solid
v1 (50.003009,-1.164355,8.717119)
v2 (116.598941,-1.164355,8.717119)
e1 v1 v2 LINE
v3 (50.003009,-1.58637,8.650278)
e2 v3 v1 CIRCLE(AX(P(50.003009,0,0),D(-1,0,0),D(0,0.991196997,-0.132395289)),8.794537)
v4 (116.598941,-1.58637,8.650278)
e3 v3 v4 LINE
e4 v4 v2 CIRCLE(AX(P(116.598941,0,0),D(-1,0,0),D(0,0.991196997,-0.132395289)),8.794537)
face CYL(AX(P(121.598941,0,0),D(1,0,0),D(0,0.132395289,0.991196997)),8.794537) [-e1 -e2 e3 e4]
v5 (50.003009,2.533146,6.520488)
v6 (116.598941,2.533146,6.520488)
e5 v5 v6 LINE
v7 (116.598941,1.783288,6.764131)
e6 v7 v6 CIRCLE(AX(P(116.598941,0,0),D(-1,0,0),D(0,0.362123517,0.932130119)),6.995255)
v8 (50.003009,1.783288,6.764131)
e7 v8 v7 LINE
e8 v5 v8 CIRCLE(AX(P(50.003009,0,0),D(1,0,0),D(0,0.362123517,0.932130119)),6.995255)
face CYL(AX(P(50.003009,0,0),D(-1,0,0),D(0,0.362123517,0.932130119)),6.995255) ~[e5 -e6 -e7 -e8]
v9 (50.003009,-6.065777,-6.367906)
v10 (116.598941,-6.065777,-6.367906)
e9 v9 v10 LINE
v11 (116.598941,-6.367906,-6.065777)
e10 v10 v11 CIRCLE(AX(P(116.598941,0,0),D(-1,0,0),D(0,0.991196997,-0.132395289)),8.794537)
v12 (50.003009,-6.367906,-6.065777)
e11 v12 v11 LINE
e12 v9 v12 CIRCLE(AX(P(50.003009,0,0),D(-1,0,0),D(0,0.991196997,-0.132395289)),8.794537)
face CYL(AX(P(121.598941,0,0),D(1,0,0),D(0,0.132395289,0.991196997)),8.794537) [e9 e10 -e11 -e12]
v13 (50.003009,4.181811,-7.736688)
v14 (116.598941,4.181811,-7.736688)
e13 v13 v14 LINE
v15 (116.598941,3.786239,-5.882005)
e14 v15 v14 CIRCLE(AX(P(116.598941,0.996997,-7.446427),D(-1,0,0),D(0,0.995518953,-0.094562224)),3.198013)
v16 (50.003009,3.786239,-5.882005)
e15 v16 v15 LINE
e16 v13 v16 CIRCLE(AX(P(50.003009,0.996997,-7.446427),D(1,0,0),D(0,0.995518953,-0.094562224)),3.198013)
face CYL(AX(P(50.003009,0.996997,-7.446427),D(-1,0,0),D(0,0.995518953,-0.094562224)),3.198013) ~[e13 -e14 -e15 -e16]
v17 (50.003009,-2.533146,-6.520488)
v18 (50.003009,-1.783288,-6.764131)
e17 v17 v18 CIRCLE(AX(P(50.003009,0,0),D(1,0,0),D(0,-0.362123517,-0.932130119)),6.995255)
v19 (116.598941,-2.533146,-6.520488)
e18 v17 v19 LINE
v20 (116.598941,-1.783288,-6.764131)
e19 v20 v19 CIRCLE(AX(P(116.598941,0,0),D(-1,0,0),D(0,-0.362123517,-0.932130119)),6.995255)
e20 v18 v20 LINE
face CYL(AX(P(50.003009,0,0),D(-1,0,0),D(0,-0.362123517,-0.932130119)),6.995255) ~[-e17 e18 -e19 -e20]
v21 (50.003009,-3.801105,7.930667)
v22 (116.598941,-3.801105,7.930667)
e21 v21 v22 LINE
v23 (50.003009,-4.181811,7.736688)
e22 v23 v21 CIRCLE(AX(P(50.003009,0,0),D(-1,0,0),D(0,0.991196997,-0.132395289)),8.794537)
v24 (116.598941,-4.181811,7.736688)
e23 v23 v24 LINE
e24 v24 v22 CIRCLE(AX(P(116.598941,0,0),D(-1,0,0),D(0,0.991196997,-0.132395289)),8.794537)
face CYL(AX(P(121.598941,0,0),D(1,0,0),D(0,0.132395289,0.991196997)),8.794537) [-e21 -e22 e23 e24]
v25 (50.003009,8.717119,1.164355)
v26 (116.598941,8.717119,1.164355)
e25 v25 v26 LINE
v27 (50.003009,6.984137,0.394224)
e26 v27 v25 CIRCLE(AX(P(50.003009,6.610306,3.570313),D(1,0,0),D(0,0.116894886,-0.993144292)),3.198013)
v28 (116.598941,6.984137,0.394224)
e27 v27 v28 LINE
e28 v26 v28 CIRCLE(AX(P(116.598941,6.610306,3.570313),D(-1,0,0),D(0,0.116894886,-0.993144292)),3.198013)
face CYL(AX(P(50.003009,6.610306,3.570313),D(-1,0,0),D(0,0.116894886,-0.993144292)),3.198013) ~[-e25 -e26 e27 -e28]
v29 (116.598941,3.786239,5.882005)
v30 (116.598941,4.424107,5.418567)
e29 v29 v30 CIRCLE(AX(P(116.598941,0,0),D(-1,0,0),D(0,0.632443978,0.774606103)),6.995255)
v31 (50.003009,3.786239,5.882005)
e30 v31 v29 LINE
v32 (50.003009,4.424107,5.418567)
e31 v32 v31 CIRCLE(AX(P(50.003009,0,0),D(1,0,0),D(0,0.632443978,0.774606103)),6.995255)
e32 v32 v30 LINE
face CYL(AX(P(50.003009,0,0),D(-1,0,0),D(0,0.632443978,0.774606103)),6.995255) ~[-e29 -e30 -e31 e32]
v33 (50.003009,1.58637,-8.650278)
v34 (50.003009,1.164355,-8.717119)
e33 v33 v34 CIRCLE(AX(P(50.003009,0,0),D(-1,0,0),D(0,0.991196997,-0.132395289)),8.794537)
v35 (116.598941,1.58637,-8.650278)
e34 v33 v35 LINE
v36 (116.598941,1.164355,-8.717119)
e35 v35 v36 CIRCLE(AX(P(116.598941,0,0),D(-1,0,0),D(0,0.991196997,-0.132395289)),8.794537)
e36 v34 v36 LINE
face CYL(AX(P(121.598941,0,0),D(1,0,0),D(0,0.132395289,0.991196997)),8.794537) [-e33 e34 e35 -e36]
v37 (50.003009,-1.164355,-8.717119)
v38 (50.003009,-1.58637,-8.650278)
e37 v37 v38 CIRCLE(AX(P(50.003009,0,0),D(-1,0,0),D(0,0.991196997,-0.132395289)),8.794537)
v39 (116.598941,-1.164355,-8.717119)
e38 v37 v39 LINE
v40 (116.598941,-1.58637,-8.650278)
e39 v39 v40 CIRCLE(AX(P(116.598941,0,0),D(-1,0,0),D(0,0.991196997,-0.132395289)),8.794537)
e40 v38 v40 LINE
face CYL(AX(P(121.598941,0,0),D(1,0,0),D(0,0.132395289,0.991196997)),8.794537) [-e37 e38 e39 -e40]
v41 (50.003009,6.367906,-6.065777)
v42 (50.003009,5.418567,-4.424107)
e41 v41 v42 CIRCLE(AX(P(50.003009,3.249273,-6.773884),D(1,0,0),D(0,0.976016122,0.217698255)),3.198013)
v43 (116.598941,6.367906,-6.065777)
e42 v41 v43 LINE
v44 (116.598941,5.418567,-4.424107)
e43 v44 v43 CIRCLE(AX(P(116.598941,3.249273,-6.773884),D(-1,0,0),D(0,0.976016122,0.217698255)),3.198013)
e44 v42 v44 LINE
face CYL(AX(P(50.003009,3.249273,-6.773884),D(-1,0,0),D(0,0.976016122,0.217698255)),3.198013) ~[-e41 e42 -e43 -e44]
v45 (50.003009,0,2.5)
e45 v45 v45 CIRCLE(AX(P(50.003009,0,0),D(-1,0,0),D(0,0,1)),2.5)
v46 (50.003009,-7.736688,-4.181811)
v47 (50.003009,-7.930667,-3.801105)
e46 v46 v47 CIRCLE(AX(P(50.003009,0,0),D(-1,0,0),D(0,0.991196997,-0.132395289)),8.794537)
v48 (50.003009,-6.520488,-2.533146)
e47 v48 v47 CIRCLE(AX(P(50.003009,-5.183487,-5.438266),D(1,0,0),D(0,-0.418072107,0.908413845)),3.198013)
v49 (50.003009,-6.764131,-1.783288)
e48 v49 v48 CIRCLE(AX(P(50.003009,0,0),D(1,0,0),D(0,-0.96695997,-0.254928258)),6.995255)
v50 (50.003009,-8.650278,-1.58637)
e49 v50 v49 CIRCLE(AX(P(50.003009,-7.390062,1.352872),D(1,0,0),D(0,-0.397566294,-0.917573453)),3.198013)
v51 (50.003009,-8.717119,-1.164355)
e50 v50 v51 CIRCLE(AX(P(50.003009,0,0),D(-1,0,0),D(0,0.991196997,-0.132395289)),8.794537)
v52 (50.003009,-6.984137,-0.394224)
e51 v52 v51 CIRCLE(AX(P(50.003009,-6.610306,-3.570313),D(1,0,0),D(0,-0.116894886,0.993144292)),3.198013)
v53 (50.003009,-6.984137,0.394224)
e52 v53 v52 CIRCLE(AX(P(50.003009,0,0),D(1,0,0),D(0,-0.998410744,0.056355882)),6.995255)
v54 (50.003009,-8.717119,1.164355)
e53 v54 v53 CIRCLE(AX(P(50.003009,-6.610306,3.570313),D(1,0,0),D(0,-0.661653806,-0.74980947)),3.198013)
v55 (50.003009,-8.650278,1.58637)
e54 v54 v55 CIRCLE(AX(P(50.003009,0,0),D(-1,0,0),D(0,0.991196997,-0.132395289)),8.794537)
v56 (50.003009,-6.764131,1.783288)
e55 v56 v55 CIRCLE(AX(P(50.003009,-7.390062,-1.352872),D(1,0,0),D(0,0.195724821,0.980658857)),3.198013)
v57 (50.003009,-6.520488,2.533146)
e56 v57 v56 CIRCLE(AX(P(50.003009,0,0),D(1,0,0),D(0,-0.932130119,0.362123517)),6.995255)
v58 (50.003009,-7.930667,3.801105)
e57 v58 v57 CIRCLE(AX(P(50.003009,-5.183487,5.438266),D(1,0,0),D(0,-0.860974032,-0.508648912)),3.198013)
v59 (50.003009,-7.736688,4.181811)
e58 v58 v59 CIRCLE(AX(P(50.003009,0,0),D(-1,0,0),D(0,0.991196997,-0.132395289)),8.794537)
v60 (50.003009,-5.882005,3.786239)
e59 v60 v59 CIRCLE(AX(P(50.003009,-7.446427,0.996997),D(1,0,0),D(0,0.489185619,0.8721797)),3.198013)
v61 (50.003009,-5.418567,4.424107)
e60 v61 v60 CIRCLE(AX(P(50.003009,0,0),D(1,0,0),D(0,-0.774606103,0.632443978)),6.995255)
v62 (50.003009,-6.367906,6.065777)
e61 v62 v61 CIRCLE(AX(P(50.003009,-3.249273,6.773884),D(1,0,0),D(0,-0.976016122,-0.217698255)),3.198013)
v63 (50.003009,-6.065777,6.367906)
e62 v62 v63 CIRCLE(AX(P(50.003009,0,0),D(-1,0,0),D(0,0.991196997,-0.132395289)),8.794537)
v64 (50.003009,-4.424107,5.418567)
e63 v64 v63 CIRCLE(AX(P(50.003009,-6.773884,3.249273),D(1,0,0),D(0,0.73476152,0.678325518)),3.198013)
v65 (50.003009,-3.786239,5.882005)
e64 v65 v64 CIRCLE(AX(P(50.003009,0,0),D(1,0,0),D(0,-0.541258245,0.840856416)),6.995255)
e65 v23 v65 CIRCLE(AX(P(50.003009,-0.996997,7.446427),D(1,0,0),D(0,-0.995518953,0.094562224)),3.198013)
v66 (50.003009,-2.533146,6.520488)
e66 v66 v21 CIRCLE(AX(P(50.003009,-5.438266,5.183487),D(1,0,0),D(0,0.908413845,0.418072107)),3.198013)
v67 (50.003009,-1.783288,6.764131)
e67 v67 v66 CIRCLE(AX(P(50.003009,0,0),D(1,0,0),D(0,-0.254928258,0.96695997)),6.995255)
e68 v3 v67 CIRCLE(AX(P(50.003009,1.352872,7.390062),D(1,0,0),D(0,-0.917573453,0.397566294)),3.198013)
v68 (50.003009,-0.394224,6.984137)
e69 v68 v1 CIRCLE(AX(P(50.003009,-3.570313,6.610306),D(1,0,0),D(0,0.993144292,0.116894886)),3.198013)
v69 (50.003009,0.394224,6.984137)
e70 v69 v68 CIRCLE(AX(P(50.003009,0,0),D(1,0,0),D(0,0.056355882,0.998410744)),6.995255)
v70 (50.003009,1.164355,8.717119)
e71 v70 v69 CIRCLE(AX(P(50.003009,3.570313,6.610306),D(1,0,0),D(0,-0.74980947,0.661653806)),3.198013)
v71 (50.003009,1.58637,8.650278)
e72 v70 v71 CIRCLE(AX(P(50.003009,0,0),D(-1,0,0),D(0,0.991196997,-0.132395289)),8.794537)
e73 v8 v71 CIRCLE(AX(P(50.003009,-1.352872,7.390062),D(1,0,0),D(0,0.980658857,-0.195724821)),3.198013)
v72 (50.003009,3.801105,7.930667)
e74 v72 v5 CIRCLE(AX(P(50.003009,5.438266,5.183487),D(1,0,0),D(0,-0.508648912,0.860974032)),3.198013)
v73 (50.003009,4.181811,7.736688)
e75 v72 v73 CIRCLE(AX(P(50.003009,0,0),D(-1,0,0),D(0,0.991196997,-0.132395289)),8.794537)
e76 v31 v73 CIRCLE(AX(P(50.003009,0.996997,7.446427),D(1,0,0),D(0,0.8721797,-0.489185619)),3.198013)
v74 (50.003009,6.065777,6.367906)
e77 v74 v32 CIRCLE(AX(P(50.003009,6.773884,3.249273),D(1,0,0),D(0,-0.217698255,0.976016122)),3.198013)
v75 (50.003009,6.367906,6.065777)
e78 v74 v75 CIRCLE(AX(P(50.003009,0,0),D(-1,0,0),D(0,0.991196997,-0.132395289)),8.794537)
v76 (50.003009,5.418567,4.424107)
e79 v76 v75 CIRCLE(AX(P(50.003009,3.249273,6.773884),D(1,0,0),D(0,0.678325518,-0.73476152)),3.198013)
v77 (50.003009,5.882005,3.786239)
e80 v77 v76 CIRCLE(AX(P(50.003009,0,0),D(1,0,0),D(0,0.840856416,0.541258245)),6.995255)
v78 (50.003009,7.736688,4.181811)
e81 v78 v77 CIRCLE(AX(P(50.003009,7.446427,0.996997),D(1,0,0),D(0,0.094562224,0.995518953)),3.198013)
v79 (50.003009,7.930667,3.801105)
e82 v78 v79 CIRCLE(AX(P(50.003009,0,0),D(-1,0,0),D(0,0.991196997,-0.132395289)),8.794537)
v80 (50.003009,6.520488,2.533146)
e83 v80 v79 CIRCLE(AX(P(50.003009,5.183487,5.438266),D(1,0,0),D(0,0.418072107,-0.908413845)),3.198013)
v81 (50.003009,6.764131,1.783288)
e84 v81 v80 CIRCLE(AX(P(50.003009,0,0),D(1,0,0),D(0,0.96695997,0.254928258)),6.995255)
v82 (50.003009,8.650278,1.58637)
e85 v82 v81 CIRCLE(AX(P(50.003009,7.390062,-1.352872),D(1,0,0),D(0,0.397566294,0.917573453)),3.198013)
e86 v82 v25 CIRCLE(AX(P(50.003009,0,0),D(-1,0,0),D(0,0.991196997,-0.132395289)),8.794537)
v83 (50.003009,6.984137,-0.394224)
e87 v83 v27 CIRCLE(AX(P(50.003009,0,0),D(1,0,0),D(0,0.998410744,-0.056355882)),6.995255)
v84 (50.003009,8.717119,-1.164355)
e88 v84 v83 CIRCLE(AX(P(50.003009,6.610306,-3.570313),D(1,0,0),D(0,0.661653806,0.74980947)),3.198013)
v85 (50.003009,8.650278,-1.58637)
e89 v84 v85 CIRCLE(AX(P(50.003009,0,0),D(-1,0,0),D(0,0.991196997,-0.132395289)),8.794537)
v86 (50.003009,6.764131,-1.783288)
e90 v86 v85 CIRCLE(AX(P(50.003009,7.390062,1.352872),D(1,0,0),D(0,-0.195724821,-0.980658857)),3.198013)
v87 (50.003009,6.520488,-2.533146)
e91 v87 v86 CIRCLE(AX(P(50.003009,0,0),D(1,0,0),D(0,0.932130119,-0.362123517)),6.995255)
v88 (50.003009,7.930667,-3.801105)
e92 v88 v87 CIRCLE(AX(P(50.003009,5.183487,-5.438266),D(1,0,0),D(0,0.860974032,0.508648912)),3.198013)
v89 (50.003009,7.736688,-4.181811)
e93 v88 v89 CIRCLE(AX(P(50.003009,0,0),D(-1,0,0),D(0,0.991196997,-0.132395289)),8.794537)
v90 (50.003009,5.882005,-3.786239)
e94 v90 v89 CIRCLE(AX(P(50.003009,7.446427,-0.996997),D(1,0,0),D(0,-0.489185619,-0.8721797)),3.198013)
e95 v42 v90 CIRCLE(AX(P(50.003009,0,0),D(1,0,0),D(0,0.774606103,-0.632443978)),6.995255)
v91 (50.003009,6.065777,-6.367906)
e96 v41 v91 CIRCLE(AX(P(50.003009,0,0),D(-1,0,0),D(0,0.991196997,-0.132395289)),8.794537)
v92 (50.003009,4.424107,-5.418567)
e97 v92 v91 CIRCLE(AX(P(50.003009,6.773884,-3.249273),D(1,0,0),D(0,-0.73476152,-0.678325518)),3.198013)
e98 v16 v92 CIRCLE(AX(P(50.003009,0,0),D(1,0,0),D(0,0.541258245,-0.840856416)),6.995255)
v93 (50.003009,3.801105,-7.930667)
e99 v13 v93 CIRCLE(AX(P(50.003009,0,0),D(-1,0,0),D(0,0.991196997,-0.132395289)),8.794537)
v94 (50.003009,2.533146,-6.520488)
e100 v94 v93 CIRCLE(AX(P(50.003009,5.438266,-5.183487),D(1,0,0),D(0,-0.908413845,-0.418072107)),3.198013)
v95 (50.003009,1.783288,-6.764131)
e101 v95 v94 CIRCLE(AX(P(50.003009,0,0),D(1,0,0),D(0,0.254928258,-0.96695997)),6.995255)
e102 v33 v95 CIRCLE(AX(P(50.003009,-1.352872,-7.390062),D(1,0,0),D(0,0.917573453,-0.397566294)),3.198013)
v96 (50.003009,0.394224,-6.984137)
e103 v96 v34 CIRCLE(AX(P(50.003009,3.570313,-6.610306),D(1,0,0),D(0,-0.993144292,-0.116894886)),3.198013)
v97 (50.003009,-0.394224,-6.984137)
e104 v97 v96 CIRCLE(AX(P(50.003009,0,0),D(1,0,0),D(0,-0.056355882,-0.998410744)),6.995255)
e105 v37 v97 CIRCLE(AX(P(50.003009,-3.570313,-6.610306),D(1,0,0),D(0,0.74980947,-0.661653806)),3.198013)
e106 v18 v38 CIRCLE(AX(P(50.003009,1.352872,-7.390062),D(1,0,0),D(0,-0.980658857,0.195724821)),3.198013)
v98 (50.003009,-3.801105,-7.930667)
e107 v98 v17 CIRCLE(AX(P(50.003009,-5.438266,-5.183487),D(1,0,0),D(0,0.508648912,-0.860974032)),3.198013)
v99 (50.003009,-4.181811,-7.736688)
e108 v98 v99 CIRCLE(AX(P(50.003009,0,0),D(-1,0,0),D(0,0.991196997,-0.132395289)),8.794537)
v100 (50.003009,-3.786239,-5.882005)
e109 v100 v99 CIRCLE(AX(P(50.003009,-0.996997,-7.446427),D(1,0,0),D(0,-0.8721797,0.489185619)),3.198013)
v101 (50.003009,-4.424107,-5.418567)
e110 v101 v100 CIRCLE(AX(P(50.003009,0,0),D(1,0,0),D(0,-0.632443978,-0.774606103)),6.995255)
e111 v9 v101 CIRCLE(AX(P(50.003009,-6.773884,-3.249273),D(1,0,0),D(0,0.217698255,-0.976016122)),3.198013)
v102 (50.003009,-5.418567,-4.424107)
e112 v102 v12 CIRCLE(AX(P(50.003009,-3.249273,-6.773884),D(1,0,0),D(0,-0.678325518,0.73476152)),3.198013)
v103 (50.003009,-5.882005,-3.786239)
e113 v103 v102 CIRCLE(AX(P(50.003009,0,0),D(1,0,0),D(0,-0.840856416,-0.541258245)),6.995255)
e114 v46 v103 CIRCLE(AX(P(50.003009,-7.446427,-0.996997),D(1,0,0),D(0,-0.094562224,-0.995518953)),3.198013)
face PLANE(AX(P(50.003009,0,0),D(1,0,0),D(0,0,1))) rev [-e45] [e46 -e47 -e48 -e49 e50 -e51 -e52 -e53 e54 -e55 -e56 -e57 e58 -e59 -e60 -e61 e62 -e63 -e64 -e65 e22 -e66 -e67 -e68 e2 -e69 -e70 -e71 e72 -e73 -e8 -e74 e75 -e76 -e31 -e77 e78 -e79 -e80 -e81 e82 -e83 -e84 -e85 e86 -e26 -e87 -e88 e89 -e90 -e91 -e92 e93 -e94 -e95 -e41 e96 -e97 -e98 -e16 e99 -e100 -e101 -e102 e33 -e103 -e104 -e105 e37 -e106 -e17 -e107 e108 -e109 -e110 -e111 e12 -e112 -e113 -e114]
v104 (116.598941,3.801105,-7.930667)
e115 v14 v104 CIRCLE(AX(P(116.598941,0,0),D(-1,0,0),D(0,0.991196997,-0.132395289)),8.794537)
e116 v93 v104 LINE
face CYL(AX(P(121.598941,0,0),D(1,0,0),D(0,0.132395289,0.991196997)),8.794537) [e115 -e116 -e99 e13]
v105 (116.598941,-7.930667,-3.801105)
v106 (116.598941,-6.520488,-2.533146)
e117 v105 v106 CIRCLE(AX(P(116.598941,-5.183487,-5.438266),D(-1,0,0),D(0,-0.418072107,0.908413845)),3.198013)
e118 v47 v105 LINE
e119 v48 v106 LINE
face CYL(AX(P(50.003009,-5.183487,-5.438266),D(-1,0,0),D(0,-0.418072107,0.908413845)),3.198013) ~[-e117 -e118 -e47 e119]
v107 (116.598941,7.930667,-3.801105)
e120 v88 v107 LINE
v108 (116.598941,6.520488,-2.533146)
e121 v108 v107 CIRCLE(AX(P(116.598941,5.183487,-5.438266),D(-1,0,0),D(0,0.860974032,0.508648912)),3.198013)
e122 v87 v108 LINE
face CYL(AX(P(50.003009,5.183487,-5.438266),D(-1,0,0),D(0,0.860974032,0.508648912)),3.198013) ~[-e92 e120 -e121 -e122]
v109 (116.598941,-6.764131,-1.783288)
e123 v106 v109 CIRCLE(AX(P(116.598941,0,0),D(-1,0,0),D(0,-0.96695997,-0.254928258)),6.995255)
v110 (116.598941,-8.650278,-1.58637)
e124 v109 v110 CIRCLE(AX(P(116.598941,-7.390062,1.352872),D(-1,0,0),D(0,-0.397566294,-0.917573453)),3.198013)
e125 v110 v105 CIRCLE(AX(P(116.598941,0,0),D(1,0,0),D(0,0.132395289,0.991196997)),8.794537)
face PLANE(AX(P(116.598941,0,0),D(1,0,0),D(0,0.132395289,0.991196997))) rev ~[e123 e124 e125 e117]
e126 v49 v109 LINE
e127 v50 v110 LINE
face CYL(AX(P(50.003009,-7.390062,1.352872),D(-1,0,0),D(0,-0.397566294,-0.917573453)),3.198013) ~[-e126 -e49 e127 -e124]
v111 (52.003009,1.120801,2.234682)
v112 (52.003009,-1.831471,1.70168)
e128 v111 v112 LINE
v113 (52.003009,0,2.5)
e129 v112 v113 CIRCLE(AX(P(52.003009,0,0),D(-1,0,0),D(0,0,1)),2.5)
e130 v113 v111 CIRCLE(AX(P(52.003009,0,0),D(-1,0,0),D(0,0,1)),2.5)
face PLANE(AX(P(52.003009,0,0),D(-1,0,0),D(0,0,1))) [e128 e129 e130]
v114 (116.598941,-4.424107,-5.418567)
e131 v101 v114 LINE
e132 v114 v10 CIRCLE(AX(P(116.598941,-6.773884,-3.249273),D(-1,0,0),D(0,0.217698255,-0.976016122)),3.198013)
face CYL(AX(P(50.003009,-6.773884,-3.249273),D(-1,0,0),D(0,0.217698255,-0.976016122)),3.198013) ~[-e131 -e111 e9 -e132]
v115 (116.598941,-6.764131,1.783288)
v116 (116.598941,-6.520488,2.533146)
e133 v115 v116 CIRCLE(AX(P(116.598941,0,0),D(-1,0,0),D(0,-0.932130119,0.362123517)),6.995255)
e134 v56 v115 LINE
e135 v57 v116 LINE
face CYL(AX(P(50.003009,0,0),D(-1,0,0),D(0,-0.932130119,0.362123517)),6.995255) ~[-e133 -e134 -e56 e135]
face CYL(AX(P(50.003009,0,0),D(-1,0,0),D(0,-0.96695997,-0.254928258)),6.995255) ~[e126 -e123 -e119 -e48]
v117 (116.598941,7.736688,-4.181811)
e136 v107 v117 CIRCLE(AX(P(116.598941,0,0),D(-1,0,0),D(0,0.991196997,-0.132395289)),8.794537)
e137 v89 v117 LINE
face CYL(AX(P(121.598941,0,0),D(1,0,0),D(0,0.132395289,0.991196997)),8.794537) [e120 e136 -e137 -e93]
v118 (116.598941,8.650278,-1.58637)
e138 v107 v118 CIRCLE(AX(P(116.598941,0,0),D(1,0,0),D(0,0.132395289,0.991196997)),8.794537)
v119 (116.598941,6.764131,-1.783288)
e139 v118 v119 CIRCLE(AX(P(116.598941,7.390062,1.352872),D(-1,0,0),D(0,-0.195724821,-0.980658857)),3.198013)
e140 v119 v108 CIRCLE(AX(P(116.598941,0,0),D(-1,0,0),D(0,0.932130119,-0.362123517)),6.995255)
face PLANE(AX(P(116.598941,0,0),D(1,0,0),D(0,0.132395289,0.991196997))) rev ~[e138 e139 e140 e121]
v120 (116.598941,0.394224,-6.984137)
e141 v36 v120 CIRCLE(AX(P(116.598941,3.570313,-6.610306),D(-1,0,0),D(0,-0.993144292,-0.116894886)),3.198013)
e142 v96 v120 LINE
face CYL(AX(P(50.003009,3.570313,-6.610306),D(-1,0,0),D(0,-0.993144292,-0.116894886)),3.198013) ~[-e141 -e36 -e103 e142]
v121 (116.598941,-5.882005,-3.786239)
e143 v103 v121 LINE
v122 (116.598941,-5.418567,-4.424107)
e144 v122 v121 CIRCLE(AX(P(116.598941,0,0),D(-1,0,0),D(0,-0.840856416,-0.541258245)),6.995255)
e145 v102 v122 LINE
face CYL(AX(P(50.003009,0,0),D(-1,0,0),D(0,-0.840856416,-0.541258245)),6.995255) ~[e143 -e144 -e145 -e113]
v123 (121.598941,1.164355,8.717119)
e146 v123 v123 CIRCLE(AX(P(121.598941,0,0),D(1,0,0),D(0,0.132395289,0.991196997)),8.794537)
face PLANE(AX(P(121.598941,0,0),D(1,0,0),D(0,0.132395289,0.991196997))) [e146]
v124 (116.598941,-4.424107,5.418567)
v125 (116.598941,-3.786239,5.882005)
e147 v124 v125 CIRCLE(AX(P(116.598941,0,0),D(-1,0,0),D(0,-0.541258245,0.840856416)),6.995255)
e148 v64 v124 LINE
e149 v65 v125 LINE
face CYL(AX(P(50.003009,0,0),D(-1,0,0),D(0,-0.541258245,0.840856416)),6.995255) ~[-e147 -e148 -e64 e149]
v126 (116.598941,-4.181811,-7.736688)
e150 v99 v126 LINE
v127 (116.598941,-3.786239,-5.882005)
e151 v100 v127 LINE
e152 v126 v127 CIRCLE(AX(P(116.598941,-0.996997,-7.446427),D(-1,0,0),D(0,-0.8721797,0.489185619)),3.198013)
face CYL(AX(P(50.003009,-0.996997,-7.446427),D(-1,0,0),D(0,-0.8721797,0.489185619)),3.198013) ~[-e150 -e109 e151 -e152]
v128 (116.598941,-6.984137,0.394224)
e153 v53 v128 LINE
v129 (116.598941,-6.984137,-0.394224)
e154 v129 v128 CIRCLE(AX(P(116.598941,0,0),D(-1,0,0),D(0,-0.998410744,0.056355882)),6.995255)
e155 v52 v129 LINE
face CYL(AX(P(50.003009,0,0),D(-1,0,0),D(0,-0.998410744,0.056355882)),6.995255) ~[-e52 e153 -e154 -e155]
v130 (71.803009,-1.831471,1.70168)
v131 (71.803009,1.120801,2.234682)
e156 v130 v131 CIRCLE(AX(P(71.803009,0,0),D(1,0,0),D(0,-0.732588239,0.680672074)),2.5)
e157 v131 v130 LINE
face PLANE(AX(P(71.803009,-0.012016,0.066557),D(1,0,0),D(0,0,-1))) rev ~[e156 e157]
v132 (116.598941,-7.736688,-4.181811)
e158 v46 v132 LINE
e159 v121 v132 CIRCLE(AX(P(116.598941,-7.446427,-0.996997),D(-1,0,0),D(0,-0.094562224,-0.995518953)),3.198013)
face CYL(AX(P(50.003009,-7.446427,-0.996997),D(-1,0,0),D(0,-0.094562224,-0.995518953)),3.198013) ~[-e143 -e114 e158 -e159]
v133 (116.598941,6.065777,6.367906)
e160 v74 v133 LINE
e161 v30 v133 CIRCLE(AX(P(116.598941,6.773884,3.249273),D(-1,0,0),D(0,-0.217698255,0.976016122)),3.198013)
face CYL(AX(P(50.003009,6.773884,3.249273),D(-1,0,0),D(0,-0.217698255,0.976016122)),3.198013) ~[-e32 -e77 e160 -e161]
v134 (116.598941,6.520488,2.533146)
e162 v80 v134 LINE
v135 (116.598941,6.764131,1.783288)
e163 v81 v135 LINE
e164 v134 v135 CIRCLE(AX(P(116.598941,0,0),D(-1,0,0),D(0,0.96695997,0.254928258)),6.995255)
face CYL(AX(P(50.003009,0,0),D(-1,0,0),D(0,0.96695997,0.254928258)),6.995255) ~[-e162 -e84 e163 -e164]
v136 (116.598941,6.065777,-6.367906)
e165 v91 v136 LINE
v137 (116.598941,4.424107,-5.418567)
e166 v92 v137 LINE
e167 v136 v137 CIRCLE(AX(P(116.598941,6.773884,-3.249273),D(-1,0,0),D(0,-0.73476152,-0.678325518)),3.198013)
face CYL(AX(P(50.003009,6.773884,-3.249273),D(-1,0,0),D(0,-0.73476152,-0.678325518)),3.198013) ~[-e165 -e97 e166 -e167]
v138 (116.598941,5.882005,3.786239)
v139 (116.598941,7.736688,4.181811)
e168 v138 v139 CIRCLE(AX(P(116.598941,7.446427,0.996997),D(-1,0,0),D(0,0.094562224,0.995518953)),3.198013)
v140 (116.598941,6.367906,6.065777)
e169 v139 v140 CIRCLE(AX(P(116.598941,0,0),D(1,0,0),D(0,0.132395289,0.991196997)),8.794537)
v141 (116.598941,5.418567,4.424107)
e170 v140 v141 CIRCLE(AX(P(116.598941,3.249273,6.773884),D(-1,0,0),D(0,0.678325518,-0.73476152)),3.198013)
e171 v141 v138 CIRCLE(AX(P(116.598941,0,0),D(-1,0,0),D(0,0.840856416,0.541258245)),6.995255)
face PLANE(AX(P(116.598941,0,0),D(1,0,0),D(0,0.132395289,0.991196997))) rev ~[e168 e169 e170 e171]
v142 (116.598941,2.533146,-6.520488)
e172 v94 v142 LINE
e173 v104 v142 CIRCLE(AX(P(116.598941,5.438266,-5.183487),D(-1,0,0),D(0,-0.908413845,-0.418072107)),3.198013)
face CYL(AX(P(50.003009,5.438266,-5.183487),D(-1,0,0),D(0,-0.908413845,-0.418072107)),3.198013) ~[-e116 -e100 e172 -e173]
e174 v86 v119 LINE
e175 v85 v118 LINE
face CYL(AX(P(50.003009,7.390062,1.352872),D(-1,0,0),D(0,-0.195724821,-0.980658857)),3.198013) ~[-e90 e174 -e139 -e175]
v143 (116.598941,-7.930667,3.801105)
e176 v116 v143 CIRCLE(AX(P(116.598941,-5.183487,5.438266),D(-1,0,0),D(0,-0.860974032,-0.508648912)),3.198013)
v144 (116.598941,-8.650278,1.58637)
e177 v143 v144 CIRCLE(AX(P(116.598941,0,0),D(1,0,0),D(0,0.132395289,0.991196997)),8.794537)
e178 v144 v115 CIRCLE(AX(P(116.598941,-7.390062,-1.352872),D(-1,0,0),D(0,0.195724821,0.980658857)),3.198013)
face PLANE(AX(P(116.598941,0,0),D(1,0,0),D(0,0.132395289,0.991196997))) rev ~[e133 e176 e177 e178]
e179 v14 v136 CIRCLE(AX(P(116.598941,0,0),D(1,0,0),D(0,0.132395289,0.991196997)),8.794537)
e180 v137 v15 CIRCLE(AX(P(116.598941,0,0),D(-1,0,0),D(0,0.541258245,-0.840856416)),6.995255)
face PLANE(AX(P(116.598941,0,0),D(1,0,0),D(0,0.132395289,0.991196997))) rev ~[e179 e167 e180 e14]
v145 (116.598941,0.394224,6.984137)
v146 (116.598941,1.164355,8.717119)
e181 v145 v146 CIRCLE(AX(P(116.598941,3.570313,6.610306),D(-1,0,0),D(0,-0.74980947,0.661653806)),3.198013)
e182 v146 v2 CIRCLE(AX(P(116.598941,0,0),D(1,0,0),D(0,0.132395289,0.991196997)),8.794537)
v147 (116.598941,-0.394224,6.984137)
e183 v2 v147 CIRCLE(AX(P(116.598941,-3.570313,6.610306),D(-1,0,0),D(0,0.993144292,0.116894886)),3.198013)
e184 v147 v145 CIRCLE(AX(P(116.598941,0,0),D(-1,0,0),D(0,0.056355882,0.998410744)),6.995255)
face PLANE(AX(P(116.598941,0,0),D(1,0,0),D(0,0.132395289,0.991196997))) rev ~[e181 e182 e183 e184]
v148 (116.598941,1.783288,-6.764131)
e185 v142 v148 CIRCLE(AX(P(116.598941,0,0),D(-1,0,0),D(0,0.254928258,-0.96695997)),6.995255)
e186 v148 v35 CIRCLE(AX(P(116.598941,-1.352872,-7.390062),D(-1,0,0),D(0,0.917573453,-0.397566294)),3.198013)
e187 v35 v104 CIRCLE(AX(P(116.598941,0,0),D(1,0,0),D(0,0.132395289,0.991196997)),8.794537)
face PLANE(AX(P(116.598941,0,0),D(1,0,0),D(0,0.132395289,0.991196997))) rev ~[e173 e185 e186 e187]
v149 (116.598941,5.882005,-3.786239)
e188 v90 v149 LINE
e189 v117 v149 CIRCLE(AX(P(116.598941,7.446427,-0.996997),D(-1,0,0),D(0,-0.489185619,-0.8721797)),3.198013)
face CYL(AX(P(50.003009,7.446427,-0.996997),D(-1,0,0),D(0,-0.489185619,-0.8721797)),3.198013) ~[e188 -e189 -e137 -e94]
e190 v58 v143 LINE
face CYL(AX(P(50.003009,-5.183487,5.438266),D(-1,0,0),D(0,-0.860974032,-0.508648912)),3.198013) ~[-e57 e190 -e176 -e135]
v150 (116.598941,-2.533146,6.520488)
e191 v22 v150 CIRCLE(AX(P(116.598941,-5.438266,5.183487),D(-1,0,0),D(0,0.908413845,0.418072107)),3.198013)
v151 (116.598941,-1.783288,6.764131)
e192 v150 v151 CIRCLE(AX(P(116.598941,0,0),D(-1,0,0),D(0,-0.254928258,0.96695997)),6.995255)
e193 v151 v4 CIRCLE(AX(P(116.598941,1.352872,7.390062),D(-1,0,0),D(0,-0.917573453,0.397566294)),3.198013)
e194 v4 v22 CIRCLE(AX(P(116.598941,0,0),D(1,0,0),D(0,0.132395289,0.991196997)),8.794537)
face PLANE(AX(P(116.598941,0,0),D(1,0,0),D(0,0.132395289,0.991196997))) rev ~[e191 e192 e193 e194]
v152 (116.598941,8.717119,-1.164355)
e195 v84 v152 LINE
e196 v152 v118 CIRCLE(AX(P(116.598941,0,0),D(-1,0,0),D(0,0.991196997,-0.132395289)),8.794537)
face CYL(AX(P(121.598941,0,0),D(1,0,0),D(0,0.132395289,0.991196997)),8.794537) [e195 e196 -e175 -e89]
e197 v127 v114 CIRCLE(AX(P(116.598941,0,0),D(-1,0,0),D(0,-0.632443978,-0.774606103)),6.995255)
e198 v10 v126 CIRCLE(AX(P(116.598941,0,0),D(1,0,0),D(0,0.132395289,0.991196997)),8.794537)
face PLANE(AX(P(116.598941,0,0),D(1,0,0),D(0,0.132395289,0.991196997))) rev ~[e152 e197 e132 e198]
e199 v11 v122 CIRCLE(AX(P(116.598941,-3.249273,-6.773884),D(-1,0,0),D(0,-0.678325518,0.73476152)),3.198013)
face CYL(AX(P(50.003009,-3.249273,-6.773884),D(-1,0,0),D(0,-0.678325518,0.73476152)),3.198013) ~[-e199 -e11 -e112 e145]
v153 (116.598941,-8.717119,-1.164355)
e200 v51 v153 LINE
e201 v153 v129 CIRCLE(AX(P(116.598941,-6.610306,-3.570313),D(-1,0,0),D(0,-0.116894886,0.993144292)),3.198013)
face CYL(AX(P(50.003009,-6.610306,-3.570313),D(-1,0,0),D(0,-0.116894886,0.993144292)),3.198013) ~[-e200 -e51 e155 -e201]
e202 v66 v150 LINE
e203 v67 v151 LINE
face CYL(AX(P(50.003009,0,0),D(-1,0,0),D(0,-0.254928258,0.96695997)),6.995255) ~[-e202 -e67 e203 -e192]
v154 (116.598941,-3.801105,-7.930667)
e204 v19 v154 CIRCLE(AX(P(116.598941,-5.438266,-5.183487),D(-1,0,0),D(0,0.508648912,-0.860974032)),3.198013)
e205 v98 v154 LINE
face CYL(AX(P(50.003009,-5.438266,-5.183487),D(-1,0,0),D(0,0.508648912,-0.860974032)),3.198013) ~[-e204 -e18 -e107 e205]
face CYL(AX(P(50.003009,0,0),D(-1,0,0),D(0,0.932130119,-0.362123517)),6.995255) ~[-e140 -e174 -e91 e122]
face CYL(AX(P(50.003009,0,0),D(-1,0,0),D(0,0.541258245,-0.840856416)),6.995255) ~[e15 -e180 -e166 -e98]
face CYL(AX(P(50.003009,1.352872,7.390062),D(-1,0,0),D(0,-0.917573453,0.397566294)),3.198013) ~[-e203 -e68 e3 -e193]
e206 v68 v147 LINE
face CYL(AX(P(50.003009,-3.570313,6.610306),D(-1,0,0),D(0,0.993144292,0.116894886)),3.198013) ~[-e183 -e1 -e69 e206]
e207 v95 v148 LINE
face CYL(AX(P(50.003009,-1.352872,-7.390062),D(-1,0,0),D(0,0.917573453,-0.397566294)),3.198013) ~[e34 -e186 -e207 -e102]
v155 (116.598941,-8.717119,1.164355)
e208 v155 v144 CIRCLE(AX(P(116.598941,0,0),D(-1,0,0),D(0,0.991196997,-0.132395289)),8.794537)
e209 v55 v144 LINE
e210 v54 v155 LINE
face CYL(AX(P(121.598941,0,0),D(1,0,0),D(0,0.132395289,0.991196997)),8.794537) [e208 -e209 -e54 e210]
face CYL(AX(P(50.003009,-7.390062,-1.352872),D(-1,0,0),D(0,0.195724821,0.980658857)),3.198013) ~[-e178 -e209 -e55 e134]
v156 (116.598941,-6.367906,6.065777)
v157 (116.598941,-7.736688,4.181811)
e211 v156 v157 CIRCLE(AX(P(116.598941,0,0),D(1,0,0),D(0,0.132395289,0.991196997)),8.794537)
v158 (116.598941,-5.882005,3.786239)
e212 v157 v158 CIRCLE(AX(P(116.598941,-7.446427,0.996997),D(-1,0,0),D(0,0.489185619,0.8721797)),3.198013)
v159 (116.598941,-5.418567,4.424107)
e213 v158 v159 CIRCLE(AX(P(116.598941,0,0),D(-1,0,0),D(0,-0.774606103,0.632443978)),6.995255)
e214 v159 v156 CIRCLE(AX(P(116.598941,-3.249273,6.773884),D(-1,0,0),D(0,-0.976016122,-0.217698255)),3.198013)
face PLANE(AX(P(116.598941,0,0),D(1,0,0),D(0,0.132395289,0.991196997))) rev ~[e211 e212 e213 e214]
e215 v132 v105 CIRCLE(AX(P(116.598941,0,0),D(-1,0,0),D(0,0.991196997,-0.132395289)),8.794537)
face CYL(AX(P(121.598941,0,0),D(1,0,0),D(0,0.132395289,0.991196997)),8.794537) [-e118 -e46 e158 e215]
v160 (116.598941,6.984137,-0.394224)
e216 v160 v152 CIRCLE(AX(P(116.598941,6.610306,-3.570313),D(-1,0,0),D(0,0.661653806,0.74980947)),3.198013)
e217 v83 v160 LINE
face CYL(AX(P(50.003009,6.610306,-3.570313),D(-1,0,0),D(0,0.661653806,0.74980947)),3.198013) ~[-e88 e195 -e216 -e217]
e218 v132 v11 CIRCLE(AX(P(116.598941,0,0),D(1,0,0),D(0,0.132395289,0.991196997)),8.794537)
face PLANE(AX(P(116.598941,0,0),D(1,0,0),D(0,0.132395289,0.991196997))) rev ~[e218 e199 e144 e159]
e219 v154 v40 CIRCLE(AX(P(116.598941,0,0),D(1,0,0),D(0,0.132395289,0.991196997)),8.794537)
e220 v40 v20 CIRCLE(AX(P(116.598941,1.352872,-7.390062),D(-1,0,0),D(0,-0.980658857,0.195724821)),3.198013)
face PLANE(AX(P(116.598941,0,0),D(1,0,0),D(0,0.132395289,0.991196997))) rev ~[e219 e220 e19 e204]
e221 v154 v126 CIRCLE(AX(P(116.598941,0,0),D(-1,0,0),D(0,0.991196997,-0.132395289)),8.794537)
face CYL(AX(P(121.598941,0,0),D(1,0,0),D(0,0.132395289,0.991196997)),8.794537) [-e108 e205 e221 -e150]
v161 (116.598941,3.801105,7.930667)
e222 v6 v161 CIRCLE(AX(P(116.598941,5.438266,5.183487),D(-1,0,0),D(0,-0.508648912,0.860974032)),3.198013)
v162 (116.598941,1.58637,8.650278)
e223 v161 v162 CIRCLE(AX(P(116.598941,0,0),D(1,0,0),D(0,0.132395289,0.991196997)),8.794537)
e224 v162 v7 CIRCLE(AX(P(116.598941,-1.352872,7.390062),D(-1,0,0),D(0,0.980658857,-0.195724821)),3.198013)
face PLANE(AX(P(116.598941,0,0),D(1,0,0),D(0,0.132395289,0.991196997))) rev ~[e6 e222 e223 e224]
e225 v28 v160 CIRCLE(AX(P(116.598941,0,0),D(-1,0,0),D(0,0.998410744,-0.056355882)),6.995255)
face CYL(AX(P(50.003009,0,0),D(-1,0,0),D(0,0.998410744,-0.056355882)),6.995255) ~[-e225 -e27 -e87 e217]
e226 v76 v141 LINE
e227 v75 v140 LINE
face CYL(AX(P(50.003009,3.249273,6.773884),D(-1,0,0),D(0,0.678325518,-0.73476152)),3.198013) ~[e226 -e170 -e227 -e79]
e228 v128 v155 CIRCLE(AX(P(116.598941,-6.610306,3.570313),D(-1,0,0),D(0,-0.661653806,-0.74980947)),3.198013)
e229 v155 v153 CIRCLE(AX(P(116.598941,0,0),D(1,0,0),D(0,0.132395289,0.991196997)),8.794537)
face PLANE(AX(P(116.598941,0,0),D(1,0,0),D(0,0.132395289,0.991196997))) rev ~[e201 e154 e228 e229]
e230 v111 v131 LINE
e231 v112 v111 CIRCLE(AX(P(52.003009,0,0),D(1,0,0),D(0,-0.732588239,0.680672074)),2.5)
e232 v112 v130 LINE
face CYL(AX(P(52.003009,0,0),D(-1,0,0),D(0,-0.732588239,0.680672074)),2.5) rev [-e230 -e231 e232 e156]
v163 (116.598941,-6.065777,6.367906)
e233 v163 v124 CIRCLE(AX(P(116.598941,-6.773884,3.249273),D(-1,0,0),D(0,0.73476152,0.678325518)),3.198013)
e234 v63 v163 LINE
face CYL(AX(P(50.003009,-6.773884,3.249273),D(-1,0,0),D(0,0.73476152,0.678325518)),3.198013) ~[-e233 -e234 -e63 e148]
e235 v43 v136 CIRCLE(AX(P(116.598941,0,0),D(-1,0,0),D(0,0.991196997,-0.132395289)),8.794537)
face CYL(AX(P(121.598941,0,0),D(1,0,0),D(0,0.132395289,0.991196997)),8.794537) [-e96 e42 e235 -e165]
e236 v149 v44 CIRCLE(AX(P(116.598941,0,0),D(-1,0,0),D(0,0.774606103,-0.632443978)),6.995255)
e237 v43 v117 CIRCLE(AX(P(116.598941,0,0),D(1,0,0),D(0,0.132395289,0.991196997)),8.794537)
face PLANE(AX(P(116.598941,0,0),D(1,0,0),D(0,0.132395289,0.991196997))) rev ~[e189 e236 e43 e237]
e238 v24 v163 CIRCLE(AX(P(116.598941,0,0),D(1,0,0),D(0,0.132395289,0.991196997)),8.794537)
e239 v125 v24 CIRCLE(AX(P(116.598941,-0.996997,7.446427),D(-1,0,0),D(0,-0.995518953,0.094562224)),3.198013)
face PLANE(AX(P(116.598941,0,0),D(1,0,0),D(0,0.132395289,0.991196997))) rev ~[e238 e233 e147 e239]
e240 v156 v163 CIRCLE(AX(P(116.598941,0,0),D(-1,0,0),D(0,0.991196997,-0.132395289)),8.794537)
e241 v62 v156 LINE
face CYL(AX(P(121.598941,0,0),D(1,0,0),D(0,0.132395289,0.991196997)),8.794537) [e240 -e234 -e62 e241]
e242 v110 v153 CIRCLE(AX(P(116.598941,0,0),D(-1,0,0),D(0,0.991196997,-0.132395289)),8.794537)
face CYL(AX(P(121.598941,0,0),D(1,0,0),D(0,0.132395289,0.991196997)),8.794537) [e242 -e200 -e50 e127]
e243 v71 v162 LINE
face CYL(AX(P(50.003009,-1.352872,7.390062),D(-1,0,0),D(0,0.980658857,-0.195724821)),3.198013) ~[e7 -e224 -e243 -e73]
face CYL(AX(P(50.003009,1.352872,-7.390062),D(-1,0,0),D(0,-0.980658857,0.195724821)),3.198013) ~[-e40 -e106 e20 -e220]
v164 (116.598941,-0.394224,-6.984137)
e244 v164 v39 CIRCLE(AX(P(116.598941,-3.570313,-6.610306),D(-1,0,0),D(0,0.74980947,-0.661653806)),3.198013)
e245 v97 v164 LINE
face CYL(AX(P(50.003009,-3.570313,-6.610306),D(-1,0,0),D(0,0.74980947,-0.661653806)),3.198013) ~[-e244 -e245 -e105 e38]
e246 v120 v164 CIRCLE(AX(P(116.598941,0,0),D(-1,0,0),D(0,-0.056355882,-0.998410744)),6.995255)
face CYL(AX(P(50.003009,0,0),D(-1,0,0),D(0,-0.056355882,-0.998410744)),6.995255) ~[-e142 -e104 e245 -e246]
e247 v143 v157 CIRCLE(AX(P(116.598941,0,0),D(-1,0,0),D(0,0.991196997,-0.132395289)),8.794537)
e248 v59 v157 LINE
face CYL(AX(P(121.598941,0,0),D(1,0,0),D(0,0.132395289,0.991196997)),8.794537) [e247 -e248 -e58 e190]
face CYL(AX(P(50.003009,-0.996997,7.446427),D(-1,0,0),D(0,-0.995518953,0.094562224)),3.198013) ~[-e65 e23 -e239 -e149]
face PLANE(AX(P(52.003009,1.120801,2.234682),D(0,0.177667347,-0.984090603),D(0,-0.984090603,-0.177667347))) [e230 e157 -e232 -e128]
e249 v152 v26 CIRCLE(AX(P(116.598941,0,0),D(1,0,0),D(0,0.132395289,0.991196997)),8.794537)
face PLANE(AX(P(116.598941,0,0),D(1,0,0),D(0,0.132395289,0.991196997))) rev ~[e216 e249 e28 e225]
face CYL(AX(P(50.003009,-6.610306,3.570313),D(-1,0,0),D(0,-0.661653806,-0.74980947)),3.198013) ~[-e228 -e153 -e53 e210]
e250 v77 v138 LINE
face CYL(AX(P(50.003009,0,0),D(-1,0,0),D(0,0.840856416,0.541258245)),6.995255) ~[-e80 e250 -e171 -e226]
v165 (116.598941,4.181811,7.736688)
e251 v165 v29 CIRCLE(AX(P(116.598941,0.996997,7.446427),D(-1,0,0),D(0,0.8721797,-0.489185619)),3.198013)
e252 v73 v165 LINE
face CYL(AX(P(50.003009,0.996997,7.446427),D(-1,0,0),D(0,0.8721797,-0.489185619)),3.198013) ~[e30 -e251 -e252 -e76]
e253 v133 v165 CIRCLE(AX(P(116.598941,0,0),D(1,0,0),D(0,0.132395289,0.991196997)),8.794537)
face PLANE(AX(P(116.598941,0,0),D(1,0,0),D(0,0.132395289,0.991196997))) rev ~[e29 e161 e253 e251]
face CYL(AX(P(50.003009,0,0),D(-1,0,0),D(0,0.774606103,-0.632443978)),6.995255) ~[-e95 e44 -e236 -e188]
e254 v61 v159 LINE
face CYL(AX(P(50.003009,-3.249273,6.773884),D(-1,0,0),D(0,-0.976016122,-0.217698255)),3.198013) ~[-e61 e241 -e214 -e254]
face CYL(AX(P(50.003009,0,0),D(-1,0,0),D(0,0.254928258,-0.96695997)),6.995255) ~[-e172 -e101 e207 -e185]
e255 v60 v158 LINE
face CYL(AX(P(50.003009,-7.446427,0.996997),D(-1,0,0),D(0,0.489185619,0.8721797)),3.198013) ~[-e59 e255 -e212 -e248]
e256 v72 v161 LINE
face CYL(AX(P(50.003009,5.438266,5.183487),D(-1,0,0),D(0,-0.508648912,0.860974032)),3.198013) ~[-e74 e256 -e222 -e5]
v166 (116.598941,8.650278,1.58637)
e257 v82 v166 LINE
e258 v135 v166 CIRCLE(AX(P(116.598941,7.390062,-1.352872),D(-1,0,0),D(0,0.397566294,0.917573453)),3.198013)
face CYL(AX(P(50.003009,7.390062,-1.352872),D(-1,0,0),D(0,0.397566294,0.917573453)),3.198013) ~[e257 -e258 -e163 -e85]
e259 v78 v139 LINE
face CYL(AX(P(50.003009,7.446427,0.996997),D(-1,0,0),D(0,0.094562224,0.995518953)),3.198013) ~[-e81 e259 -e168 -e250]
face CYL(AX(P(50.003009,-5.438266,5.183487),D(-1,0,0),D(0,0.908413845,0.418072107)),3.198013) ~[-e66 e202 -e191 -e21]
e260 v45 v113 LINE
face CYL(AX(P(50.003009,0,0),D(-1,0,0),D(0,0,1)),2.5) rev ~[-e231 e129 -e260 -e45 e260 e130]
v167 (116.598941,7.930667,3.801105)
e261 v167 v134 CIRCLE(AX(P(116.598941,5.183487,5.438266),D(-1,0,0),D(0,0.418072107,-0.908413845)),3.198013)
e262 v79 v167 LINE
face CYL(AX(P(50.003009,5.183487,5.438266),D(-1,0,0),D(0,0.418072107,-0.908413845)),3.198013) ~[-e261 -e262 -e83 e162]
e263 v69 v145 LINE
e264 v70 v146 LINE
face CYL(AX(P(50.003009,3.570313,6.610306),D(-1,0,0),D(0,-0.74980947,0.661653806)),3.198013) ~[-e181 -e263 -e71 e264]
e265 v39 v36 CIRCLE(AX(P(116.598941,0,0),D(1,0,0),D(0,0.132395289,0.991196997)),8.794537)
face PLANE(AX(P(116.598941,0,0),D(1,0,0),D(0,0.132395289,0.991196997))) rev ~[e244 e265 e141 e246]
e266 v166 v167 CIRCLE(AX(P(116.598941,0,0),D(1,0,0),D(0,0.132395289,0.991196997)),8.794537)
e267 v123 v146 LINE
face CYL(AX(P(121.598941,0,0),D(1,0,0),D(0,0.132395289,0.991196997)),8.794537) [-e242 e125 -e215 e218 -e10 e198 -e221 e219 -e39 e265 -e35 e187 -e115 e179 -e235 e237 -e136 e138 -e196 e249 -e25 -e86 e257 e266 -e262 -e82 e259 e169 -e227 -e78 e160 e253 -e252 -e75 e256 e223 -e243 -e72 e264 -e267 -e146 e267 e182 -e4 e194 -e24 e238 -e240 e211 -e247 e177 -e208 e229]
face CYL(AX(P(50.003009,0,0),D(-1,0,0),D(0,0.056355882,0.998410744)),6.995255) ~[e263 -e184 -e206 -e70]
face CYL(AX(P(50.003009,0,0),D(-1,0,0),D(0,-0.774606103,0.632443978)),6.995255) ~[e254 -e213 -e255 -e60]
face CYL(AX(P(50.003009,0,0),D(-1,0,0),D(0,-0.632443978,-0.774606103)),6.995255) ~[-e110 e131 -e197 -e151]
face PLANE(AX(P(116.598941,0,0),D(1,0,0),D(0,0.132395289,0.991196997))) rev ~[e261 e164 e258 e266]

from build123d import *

# Parameters (mm, degrees)
BASPROSKE_W         = 166.593250705
BASPROSKE_H         = 22
TOOTHCUT_DEPTH      = 170.47362975
TEETHCUTS_COUNT     = 20
TEETHCUTS_ANGLE     = 342
BORSKE_R            = 0.4
BORE_DEPTH          = 50.0000508
SCALE1_SCALE        = 0.399751684
SKETCH3_R           = 2.5
CUT_EXTRUDE3_DEPTH  = 2
CUT_EXTRUDE4_DEPTH  = 19.8
BOSS_EXTRUDE1_START = 5
SKETCH5_R           = 8.794537041
BOSS_EXTRUDE1_DEPTH = 5


with BuildPart() as part:
    # BasProSke → Base-Revolve (revolve)
    with BuildSketch(Plane(origin=(0, 0, 0), x_dir=(1, 0, 0), z_dir=(0, 1, 0)), mode=Mode.PRIVATE) as base_revolve_sk:
        with Locations((83.296625353, 11)):
            Rectangle(BASPROSKE_W, BASPROSKE_H)
    revolve(base_revolve_sk.sketch.rotate(Axis((-10, 0, 0), (1, 0, 0)), 180), axis=Axis((-10, 0, 0), (1, 0, 0)))

    # TooCutSke → ToothCut (cut, through all)
    with BuildSketch(Plane(origin=(0, 0, 0), x_dir=(0, 0, -1), z_dir=(1, 0, 0))):
        with BuildLine():
            ThreePointArc((0.986171591, 17.471189616), (0, 17.499), (-0.986171591, 17.471189616))
            ThreePointArc((-0.986171591, 17.471189616), (-1.626916196, 19.798789858), (-2.932850173, 21.829260982))
            ThreePointArc((-2.932850173, 21.829260982), (0, 22.0254), (2.932850173, 21.829260982))
            ThreePointArc((2.932850173, 21.829260982), (1.626916196, 19.798789858), (0.986171591, 17.471189616))
        make_face()
    toothcut = extrude(amount=TOOTHCUT_DEPTH, mode=Mode.SUBTRACT)

    # TeethCuts: ToothCut ×20 about axis
    teethcuts_axis = Axis((-10, 0, 0), (1, 0, 0))
    for i in range(1, TEETHCUTS_COUNT):
        add(toothcut.rotate(teethcuts_axis, i * TEETHCUTS_ANGLE / (TEETHCUTS_COUNT - 1)), mode=Mode.SUBTRACT)

    # BorSke → Bore (cut, symmetric)
    with BuildSketch(Plane(origin=(0, 0, 0), x_dir=(0, 0, -1), z_dir=(1, 0, 0))):
        Circle(BORSKE_R)
    extrude(amount=BORE_DEPTH, both=True, mode=Mode.SUBTRACT)


with BuildPart() as part_1:
    # Scale1: scaled about (83.303871456, 0, 0)
    add(part.part.scale(SCALE1_SCALE).moved(Location((50.003008586, 0, 0))))

    # Sketch3 → Cut-Extrude3 (cut)
    with BuildSketch(Plane.ZY.offset(-50.003008586)):
        Circle(SKETCH3_R)
    extrude(amount=-CUT_EXTRUDE3_DEPTH, mode=Mode.SUBTRACT)

    # Sketch4 → Cut-Extrude4 (cut)
    with BuildSketch(Plane.ZY.offset(-52.003008586)):
        with BuildLine():
            Line((2.234682225, 1.120801211), (1.701680185, -1.831470597))
            ThreePointArc((1.701680185, -1.831470597), (-2.460226506, 0.444168366), (2.234682225, 1.120801211))
        make_face()
    extrude(amount=-CUT_EXTRUDE4_DEPTH, mode=Mode.SUBTRACT)

    # Sketch5 → Boss-Extrude1 (add)
    with BuildSketch(Plane(origin=(116.598941042, 0, 0), x_dir=(0, 0, -1), z_dir=(1, 0, 0)).offset(BOSS_EXTRUDE1_START)):
        with Locations(Location((0, 0, 0), (0, 0, 172.391971096))):
            Circle(SKETCH5_R)
    extrude(amount=-BOSS_EXTRUDE1_DEPTH)


solid = part_1.part
